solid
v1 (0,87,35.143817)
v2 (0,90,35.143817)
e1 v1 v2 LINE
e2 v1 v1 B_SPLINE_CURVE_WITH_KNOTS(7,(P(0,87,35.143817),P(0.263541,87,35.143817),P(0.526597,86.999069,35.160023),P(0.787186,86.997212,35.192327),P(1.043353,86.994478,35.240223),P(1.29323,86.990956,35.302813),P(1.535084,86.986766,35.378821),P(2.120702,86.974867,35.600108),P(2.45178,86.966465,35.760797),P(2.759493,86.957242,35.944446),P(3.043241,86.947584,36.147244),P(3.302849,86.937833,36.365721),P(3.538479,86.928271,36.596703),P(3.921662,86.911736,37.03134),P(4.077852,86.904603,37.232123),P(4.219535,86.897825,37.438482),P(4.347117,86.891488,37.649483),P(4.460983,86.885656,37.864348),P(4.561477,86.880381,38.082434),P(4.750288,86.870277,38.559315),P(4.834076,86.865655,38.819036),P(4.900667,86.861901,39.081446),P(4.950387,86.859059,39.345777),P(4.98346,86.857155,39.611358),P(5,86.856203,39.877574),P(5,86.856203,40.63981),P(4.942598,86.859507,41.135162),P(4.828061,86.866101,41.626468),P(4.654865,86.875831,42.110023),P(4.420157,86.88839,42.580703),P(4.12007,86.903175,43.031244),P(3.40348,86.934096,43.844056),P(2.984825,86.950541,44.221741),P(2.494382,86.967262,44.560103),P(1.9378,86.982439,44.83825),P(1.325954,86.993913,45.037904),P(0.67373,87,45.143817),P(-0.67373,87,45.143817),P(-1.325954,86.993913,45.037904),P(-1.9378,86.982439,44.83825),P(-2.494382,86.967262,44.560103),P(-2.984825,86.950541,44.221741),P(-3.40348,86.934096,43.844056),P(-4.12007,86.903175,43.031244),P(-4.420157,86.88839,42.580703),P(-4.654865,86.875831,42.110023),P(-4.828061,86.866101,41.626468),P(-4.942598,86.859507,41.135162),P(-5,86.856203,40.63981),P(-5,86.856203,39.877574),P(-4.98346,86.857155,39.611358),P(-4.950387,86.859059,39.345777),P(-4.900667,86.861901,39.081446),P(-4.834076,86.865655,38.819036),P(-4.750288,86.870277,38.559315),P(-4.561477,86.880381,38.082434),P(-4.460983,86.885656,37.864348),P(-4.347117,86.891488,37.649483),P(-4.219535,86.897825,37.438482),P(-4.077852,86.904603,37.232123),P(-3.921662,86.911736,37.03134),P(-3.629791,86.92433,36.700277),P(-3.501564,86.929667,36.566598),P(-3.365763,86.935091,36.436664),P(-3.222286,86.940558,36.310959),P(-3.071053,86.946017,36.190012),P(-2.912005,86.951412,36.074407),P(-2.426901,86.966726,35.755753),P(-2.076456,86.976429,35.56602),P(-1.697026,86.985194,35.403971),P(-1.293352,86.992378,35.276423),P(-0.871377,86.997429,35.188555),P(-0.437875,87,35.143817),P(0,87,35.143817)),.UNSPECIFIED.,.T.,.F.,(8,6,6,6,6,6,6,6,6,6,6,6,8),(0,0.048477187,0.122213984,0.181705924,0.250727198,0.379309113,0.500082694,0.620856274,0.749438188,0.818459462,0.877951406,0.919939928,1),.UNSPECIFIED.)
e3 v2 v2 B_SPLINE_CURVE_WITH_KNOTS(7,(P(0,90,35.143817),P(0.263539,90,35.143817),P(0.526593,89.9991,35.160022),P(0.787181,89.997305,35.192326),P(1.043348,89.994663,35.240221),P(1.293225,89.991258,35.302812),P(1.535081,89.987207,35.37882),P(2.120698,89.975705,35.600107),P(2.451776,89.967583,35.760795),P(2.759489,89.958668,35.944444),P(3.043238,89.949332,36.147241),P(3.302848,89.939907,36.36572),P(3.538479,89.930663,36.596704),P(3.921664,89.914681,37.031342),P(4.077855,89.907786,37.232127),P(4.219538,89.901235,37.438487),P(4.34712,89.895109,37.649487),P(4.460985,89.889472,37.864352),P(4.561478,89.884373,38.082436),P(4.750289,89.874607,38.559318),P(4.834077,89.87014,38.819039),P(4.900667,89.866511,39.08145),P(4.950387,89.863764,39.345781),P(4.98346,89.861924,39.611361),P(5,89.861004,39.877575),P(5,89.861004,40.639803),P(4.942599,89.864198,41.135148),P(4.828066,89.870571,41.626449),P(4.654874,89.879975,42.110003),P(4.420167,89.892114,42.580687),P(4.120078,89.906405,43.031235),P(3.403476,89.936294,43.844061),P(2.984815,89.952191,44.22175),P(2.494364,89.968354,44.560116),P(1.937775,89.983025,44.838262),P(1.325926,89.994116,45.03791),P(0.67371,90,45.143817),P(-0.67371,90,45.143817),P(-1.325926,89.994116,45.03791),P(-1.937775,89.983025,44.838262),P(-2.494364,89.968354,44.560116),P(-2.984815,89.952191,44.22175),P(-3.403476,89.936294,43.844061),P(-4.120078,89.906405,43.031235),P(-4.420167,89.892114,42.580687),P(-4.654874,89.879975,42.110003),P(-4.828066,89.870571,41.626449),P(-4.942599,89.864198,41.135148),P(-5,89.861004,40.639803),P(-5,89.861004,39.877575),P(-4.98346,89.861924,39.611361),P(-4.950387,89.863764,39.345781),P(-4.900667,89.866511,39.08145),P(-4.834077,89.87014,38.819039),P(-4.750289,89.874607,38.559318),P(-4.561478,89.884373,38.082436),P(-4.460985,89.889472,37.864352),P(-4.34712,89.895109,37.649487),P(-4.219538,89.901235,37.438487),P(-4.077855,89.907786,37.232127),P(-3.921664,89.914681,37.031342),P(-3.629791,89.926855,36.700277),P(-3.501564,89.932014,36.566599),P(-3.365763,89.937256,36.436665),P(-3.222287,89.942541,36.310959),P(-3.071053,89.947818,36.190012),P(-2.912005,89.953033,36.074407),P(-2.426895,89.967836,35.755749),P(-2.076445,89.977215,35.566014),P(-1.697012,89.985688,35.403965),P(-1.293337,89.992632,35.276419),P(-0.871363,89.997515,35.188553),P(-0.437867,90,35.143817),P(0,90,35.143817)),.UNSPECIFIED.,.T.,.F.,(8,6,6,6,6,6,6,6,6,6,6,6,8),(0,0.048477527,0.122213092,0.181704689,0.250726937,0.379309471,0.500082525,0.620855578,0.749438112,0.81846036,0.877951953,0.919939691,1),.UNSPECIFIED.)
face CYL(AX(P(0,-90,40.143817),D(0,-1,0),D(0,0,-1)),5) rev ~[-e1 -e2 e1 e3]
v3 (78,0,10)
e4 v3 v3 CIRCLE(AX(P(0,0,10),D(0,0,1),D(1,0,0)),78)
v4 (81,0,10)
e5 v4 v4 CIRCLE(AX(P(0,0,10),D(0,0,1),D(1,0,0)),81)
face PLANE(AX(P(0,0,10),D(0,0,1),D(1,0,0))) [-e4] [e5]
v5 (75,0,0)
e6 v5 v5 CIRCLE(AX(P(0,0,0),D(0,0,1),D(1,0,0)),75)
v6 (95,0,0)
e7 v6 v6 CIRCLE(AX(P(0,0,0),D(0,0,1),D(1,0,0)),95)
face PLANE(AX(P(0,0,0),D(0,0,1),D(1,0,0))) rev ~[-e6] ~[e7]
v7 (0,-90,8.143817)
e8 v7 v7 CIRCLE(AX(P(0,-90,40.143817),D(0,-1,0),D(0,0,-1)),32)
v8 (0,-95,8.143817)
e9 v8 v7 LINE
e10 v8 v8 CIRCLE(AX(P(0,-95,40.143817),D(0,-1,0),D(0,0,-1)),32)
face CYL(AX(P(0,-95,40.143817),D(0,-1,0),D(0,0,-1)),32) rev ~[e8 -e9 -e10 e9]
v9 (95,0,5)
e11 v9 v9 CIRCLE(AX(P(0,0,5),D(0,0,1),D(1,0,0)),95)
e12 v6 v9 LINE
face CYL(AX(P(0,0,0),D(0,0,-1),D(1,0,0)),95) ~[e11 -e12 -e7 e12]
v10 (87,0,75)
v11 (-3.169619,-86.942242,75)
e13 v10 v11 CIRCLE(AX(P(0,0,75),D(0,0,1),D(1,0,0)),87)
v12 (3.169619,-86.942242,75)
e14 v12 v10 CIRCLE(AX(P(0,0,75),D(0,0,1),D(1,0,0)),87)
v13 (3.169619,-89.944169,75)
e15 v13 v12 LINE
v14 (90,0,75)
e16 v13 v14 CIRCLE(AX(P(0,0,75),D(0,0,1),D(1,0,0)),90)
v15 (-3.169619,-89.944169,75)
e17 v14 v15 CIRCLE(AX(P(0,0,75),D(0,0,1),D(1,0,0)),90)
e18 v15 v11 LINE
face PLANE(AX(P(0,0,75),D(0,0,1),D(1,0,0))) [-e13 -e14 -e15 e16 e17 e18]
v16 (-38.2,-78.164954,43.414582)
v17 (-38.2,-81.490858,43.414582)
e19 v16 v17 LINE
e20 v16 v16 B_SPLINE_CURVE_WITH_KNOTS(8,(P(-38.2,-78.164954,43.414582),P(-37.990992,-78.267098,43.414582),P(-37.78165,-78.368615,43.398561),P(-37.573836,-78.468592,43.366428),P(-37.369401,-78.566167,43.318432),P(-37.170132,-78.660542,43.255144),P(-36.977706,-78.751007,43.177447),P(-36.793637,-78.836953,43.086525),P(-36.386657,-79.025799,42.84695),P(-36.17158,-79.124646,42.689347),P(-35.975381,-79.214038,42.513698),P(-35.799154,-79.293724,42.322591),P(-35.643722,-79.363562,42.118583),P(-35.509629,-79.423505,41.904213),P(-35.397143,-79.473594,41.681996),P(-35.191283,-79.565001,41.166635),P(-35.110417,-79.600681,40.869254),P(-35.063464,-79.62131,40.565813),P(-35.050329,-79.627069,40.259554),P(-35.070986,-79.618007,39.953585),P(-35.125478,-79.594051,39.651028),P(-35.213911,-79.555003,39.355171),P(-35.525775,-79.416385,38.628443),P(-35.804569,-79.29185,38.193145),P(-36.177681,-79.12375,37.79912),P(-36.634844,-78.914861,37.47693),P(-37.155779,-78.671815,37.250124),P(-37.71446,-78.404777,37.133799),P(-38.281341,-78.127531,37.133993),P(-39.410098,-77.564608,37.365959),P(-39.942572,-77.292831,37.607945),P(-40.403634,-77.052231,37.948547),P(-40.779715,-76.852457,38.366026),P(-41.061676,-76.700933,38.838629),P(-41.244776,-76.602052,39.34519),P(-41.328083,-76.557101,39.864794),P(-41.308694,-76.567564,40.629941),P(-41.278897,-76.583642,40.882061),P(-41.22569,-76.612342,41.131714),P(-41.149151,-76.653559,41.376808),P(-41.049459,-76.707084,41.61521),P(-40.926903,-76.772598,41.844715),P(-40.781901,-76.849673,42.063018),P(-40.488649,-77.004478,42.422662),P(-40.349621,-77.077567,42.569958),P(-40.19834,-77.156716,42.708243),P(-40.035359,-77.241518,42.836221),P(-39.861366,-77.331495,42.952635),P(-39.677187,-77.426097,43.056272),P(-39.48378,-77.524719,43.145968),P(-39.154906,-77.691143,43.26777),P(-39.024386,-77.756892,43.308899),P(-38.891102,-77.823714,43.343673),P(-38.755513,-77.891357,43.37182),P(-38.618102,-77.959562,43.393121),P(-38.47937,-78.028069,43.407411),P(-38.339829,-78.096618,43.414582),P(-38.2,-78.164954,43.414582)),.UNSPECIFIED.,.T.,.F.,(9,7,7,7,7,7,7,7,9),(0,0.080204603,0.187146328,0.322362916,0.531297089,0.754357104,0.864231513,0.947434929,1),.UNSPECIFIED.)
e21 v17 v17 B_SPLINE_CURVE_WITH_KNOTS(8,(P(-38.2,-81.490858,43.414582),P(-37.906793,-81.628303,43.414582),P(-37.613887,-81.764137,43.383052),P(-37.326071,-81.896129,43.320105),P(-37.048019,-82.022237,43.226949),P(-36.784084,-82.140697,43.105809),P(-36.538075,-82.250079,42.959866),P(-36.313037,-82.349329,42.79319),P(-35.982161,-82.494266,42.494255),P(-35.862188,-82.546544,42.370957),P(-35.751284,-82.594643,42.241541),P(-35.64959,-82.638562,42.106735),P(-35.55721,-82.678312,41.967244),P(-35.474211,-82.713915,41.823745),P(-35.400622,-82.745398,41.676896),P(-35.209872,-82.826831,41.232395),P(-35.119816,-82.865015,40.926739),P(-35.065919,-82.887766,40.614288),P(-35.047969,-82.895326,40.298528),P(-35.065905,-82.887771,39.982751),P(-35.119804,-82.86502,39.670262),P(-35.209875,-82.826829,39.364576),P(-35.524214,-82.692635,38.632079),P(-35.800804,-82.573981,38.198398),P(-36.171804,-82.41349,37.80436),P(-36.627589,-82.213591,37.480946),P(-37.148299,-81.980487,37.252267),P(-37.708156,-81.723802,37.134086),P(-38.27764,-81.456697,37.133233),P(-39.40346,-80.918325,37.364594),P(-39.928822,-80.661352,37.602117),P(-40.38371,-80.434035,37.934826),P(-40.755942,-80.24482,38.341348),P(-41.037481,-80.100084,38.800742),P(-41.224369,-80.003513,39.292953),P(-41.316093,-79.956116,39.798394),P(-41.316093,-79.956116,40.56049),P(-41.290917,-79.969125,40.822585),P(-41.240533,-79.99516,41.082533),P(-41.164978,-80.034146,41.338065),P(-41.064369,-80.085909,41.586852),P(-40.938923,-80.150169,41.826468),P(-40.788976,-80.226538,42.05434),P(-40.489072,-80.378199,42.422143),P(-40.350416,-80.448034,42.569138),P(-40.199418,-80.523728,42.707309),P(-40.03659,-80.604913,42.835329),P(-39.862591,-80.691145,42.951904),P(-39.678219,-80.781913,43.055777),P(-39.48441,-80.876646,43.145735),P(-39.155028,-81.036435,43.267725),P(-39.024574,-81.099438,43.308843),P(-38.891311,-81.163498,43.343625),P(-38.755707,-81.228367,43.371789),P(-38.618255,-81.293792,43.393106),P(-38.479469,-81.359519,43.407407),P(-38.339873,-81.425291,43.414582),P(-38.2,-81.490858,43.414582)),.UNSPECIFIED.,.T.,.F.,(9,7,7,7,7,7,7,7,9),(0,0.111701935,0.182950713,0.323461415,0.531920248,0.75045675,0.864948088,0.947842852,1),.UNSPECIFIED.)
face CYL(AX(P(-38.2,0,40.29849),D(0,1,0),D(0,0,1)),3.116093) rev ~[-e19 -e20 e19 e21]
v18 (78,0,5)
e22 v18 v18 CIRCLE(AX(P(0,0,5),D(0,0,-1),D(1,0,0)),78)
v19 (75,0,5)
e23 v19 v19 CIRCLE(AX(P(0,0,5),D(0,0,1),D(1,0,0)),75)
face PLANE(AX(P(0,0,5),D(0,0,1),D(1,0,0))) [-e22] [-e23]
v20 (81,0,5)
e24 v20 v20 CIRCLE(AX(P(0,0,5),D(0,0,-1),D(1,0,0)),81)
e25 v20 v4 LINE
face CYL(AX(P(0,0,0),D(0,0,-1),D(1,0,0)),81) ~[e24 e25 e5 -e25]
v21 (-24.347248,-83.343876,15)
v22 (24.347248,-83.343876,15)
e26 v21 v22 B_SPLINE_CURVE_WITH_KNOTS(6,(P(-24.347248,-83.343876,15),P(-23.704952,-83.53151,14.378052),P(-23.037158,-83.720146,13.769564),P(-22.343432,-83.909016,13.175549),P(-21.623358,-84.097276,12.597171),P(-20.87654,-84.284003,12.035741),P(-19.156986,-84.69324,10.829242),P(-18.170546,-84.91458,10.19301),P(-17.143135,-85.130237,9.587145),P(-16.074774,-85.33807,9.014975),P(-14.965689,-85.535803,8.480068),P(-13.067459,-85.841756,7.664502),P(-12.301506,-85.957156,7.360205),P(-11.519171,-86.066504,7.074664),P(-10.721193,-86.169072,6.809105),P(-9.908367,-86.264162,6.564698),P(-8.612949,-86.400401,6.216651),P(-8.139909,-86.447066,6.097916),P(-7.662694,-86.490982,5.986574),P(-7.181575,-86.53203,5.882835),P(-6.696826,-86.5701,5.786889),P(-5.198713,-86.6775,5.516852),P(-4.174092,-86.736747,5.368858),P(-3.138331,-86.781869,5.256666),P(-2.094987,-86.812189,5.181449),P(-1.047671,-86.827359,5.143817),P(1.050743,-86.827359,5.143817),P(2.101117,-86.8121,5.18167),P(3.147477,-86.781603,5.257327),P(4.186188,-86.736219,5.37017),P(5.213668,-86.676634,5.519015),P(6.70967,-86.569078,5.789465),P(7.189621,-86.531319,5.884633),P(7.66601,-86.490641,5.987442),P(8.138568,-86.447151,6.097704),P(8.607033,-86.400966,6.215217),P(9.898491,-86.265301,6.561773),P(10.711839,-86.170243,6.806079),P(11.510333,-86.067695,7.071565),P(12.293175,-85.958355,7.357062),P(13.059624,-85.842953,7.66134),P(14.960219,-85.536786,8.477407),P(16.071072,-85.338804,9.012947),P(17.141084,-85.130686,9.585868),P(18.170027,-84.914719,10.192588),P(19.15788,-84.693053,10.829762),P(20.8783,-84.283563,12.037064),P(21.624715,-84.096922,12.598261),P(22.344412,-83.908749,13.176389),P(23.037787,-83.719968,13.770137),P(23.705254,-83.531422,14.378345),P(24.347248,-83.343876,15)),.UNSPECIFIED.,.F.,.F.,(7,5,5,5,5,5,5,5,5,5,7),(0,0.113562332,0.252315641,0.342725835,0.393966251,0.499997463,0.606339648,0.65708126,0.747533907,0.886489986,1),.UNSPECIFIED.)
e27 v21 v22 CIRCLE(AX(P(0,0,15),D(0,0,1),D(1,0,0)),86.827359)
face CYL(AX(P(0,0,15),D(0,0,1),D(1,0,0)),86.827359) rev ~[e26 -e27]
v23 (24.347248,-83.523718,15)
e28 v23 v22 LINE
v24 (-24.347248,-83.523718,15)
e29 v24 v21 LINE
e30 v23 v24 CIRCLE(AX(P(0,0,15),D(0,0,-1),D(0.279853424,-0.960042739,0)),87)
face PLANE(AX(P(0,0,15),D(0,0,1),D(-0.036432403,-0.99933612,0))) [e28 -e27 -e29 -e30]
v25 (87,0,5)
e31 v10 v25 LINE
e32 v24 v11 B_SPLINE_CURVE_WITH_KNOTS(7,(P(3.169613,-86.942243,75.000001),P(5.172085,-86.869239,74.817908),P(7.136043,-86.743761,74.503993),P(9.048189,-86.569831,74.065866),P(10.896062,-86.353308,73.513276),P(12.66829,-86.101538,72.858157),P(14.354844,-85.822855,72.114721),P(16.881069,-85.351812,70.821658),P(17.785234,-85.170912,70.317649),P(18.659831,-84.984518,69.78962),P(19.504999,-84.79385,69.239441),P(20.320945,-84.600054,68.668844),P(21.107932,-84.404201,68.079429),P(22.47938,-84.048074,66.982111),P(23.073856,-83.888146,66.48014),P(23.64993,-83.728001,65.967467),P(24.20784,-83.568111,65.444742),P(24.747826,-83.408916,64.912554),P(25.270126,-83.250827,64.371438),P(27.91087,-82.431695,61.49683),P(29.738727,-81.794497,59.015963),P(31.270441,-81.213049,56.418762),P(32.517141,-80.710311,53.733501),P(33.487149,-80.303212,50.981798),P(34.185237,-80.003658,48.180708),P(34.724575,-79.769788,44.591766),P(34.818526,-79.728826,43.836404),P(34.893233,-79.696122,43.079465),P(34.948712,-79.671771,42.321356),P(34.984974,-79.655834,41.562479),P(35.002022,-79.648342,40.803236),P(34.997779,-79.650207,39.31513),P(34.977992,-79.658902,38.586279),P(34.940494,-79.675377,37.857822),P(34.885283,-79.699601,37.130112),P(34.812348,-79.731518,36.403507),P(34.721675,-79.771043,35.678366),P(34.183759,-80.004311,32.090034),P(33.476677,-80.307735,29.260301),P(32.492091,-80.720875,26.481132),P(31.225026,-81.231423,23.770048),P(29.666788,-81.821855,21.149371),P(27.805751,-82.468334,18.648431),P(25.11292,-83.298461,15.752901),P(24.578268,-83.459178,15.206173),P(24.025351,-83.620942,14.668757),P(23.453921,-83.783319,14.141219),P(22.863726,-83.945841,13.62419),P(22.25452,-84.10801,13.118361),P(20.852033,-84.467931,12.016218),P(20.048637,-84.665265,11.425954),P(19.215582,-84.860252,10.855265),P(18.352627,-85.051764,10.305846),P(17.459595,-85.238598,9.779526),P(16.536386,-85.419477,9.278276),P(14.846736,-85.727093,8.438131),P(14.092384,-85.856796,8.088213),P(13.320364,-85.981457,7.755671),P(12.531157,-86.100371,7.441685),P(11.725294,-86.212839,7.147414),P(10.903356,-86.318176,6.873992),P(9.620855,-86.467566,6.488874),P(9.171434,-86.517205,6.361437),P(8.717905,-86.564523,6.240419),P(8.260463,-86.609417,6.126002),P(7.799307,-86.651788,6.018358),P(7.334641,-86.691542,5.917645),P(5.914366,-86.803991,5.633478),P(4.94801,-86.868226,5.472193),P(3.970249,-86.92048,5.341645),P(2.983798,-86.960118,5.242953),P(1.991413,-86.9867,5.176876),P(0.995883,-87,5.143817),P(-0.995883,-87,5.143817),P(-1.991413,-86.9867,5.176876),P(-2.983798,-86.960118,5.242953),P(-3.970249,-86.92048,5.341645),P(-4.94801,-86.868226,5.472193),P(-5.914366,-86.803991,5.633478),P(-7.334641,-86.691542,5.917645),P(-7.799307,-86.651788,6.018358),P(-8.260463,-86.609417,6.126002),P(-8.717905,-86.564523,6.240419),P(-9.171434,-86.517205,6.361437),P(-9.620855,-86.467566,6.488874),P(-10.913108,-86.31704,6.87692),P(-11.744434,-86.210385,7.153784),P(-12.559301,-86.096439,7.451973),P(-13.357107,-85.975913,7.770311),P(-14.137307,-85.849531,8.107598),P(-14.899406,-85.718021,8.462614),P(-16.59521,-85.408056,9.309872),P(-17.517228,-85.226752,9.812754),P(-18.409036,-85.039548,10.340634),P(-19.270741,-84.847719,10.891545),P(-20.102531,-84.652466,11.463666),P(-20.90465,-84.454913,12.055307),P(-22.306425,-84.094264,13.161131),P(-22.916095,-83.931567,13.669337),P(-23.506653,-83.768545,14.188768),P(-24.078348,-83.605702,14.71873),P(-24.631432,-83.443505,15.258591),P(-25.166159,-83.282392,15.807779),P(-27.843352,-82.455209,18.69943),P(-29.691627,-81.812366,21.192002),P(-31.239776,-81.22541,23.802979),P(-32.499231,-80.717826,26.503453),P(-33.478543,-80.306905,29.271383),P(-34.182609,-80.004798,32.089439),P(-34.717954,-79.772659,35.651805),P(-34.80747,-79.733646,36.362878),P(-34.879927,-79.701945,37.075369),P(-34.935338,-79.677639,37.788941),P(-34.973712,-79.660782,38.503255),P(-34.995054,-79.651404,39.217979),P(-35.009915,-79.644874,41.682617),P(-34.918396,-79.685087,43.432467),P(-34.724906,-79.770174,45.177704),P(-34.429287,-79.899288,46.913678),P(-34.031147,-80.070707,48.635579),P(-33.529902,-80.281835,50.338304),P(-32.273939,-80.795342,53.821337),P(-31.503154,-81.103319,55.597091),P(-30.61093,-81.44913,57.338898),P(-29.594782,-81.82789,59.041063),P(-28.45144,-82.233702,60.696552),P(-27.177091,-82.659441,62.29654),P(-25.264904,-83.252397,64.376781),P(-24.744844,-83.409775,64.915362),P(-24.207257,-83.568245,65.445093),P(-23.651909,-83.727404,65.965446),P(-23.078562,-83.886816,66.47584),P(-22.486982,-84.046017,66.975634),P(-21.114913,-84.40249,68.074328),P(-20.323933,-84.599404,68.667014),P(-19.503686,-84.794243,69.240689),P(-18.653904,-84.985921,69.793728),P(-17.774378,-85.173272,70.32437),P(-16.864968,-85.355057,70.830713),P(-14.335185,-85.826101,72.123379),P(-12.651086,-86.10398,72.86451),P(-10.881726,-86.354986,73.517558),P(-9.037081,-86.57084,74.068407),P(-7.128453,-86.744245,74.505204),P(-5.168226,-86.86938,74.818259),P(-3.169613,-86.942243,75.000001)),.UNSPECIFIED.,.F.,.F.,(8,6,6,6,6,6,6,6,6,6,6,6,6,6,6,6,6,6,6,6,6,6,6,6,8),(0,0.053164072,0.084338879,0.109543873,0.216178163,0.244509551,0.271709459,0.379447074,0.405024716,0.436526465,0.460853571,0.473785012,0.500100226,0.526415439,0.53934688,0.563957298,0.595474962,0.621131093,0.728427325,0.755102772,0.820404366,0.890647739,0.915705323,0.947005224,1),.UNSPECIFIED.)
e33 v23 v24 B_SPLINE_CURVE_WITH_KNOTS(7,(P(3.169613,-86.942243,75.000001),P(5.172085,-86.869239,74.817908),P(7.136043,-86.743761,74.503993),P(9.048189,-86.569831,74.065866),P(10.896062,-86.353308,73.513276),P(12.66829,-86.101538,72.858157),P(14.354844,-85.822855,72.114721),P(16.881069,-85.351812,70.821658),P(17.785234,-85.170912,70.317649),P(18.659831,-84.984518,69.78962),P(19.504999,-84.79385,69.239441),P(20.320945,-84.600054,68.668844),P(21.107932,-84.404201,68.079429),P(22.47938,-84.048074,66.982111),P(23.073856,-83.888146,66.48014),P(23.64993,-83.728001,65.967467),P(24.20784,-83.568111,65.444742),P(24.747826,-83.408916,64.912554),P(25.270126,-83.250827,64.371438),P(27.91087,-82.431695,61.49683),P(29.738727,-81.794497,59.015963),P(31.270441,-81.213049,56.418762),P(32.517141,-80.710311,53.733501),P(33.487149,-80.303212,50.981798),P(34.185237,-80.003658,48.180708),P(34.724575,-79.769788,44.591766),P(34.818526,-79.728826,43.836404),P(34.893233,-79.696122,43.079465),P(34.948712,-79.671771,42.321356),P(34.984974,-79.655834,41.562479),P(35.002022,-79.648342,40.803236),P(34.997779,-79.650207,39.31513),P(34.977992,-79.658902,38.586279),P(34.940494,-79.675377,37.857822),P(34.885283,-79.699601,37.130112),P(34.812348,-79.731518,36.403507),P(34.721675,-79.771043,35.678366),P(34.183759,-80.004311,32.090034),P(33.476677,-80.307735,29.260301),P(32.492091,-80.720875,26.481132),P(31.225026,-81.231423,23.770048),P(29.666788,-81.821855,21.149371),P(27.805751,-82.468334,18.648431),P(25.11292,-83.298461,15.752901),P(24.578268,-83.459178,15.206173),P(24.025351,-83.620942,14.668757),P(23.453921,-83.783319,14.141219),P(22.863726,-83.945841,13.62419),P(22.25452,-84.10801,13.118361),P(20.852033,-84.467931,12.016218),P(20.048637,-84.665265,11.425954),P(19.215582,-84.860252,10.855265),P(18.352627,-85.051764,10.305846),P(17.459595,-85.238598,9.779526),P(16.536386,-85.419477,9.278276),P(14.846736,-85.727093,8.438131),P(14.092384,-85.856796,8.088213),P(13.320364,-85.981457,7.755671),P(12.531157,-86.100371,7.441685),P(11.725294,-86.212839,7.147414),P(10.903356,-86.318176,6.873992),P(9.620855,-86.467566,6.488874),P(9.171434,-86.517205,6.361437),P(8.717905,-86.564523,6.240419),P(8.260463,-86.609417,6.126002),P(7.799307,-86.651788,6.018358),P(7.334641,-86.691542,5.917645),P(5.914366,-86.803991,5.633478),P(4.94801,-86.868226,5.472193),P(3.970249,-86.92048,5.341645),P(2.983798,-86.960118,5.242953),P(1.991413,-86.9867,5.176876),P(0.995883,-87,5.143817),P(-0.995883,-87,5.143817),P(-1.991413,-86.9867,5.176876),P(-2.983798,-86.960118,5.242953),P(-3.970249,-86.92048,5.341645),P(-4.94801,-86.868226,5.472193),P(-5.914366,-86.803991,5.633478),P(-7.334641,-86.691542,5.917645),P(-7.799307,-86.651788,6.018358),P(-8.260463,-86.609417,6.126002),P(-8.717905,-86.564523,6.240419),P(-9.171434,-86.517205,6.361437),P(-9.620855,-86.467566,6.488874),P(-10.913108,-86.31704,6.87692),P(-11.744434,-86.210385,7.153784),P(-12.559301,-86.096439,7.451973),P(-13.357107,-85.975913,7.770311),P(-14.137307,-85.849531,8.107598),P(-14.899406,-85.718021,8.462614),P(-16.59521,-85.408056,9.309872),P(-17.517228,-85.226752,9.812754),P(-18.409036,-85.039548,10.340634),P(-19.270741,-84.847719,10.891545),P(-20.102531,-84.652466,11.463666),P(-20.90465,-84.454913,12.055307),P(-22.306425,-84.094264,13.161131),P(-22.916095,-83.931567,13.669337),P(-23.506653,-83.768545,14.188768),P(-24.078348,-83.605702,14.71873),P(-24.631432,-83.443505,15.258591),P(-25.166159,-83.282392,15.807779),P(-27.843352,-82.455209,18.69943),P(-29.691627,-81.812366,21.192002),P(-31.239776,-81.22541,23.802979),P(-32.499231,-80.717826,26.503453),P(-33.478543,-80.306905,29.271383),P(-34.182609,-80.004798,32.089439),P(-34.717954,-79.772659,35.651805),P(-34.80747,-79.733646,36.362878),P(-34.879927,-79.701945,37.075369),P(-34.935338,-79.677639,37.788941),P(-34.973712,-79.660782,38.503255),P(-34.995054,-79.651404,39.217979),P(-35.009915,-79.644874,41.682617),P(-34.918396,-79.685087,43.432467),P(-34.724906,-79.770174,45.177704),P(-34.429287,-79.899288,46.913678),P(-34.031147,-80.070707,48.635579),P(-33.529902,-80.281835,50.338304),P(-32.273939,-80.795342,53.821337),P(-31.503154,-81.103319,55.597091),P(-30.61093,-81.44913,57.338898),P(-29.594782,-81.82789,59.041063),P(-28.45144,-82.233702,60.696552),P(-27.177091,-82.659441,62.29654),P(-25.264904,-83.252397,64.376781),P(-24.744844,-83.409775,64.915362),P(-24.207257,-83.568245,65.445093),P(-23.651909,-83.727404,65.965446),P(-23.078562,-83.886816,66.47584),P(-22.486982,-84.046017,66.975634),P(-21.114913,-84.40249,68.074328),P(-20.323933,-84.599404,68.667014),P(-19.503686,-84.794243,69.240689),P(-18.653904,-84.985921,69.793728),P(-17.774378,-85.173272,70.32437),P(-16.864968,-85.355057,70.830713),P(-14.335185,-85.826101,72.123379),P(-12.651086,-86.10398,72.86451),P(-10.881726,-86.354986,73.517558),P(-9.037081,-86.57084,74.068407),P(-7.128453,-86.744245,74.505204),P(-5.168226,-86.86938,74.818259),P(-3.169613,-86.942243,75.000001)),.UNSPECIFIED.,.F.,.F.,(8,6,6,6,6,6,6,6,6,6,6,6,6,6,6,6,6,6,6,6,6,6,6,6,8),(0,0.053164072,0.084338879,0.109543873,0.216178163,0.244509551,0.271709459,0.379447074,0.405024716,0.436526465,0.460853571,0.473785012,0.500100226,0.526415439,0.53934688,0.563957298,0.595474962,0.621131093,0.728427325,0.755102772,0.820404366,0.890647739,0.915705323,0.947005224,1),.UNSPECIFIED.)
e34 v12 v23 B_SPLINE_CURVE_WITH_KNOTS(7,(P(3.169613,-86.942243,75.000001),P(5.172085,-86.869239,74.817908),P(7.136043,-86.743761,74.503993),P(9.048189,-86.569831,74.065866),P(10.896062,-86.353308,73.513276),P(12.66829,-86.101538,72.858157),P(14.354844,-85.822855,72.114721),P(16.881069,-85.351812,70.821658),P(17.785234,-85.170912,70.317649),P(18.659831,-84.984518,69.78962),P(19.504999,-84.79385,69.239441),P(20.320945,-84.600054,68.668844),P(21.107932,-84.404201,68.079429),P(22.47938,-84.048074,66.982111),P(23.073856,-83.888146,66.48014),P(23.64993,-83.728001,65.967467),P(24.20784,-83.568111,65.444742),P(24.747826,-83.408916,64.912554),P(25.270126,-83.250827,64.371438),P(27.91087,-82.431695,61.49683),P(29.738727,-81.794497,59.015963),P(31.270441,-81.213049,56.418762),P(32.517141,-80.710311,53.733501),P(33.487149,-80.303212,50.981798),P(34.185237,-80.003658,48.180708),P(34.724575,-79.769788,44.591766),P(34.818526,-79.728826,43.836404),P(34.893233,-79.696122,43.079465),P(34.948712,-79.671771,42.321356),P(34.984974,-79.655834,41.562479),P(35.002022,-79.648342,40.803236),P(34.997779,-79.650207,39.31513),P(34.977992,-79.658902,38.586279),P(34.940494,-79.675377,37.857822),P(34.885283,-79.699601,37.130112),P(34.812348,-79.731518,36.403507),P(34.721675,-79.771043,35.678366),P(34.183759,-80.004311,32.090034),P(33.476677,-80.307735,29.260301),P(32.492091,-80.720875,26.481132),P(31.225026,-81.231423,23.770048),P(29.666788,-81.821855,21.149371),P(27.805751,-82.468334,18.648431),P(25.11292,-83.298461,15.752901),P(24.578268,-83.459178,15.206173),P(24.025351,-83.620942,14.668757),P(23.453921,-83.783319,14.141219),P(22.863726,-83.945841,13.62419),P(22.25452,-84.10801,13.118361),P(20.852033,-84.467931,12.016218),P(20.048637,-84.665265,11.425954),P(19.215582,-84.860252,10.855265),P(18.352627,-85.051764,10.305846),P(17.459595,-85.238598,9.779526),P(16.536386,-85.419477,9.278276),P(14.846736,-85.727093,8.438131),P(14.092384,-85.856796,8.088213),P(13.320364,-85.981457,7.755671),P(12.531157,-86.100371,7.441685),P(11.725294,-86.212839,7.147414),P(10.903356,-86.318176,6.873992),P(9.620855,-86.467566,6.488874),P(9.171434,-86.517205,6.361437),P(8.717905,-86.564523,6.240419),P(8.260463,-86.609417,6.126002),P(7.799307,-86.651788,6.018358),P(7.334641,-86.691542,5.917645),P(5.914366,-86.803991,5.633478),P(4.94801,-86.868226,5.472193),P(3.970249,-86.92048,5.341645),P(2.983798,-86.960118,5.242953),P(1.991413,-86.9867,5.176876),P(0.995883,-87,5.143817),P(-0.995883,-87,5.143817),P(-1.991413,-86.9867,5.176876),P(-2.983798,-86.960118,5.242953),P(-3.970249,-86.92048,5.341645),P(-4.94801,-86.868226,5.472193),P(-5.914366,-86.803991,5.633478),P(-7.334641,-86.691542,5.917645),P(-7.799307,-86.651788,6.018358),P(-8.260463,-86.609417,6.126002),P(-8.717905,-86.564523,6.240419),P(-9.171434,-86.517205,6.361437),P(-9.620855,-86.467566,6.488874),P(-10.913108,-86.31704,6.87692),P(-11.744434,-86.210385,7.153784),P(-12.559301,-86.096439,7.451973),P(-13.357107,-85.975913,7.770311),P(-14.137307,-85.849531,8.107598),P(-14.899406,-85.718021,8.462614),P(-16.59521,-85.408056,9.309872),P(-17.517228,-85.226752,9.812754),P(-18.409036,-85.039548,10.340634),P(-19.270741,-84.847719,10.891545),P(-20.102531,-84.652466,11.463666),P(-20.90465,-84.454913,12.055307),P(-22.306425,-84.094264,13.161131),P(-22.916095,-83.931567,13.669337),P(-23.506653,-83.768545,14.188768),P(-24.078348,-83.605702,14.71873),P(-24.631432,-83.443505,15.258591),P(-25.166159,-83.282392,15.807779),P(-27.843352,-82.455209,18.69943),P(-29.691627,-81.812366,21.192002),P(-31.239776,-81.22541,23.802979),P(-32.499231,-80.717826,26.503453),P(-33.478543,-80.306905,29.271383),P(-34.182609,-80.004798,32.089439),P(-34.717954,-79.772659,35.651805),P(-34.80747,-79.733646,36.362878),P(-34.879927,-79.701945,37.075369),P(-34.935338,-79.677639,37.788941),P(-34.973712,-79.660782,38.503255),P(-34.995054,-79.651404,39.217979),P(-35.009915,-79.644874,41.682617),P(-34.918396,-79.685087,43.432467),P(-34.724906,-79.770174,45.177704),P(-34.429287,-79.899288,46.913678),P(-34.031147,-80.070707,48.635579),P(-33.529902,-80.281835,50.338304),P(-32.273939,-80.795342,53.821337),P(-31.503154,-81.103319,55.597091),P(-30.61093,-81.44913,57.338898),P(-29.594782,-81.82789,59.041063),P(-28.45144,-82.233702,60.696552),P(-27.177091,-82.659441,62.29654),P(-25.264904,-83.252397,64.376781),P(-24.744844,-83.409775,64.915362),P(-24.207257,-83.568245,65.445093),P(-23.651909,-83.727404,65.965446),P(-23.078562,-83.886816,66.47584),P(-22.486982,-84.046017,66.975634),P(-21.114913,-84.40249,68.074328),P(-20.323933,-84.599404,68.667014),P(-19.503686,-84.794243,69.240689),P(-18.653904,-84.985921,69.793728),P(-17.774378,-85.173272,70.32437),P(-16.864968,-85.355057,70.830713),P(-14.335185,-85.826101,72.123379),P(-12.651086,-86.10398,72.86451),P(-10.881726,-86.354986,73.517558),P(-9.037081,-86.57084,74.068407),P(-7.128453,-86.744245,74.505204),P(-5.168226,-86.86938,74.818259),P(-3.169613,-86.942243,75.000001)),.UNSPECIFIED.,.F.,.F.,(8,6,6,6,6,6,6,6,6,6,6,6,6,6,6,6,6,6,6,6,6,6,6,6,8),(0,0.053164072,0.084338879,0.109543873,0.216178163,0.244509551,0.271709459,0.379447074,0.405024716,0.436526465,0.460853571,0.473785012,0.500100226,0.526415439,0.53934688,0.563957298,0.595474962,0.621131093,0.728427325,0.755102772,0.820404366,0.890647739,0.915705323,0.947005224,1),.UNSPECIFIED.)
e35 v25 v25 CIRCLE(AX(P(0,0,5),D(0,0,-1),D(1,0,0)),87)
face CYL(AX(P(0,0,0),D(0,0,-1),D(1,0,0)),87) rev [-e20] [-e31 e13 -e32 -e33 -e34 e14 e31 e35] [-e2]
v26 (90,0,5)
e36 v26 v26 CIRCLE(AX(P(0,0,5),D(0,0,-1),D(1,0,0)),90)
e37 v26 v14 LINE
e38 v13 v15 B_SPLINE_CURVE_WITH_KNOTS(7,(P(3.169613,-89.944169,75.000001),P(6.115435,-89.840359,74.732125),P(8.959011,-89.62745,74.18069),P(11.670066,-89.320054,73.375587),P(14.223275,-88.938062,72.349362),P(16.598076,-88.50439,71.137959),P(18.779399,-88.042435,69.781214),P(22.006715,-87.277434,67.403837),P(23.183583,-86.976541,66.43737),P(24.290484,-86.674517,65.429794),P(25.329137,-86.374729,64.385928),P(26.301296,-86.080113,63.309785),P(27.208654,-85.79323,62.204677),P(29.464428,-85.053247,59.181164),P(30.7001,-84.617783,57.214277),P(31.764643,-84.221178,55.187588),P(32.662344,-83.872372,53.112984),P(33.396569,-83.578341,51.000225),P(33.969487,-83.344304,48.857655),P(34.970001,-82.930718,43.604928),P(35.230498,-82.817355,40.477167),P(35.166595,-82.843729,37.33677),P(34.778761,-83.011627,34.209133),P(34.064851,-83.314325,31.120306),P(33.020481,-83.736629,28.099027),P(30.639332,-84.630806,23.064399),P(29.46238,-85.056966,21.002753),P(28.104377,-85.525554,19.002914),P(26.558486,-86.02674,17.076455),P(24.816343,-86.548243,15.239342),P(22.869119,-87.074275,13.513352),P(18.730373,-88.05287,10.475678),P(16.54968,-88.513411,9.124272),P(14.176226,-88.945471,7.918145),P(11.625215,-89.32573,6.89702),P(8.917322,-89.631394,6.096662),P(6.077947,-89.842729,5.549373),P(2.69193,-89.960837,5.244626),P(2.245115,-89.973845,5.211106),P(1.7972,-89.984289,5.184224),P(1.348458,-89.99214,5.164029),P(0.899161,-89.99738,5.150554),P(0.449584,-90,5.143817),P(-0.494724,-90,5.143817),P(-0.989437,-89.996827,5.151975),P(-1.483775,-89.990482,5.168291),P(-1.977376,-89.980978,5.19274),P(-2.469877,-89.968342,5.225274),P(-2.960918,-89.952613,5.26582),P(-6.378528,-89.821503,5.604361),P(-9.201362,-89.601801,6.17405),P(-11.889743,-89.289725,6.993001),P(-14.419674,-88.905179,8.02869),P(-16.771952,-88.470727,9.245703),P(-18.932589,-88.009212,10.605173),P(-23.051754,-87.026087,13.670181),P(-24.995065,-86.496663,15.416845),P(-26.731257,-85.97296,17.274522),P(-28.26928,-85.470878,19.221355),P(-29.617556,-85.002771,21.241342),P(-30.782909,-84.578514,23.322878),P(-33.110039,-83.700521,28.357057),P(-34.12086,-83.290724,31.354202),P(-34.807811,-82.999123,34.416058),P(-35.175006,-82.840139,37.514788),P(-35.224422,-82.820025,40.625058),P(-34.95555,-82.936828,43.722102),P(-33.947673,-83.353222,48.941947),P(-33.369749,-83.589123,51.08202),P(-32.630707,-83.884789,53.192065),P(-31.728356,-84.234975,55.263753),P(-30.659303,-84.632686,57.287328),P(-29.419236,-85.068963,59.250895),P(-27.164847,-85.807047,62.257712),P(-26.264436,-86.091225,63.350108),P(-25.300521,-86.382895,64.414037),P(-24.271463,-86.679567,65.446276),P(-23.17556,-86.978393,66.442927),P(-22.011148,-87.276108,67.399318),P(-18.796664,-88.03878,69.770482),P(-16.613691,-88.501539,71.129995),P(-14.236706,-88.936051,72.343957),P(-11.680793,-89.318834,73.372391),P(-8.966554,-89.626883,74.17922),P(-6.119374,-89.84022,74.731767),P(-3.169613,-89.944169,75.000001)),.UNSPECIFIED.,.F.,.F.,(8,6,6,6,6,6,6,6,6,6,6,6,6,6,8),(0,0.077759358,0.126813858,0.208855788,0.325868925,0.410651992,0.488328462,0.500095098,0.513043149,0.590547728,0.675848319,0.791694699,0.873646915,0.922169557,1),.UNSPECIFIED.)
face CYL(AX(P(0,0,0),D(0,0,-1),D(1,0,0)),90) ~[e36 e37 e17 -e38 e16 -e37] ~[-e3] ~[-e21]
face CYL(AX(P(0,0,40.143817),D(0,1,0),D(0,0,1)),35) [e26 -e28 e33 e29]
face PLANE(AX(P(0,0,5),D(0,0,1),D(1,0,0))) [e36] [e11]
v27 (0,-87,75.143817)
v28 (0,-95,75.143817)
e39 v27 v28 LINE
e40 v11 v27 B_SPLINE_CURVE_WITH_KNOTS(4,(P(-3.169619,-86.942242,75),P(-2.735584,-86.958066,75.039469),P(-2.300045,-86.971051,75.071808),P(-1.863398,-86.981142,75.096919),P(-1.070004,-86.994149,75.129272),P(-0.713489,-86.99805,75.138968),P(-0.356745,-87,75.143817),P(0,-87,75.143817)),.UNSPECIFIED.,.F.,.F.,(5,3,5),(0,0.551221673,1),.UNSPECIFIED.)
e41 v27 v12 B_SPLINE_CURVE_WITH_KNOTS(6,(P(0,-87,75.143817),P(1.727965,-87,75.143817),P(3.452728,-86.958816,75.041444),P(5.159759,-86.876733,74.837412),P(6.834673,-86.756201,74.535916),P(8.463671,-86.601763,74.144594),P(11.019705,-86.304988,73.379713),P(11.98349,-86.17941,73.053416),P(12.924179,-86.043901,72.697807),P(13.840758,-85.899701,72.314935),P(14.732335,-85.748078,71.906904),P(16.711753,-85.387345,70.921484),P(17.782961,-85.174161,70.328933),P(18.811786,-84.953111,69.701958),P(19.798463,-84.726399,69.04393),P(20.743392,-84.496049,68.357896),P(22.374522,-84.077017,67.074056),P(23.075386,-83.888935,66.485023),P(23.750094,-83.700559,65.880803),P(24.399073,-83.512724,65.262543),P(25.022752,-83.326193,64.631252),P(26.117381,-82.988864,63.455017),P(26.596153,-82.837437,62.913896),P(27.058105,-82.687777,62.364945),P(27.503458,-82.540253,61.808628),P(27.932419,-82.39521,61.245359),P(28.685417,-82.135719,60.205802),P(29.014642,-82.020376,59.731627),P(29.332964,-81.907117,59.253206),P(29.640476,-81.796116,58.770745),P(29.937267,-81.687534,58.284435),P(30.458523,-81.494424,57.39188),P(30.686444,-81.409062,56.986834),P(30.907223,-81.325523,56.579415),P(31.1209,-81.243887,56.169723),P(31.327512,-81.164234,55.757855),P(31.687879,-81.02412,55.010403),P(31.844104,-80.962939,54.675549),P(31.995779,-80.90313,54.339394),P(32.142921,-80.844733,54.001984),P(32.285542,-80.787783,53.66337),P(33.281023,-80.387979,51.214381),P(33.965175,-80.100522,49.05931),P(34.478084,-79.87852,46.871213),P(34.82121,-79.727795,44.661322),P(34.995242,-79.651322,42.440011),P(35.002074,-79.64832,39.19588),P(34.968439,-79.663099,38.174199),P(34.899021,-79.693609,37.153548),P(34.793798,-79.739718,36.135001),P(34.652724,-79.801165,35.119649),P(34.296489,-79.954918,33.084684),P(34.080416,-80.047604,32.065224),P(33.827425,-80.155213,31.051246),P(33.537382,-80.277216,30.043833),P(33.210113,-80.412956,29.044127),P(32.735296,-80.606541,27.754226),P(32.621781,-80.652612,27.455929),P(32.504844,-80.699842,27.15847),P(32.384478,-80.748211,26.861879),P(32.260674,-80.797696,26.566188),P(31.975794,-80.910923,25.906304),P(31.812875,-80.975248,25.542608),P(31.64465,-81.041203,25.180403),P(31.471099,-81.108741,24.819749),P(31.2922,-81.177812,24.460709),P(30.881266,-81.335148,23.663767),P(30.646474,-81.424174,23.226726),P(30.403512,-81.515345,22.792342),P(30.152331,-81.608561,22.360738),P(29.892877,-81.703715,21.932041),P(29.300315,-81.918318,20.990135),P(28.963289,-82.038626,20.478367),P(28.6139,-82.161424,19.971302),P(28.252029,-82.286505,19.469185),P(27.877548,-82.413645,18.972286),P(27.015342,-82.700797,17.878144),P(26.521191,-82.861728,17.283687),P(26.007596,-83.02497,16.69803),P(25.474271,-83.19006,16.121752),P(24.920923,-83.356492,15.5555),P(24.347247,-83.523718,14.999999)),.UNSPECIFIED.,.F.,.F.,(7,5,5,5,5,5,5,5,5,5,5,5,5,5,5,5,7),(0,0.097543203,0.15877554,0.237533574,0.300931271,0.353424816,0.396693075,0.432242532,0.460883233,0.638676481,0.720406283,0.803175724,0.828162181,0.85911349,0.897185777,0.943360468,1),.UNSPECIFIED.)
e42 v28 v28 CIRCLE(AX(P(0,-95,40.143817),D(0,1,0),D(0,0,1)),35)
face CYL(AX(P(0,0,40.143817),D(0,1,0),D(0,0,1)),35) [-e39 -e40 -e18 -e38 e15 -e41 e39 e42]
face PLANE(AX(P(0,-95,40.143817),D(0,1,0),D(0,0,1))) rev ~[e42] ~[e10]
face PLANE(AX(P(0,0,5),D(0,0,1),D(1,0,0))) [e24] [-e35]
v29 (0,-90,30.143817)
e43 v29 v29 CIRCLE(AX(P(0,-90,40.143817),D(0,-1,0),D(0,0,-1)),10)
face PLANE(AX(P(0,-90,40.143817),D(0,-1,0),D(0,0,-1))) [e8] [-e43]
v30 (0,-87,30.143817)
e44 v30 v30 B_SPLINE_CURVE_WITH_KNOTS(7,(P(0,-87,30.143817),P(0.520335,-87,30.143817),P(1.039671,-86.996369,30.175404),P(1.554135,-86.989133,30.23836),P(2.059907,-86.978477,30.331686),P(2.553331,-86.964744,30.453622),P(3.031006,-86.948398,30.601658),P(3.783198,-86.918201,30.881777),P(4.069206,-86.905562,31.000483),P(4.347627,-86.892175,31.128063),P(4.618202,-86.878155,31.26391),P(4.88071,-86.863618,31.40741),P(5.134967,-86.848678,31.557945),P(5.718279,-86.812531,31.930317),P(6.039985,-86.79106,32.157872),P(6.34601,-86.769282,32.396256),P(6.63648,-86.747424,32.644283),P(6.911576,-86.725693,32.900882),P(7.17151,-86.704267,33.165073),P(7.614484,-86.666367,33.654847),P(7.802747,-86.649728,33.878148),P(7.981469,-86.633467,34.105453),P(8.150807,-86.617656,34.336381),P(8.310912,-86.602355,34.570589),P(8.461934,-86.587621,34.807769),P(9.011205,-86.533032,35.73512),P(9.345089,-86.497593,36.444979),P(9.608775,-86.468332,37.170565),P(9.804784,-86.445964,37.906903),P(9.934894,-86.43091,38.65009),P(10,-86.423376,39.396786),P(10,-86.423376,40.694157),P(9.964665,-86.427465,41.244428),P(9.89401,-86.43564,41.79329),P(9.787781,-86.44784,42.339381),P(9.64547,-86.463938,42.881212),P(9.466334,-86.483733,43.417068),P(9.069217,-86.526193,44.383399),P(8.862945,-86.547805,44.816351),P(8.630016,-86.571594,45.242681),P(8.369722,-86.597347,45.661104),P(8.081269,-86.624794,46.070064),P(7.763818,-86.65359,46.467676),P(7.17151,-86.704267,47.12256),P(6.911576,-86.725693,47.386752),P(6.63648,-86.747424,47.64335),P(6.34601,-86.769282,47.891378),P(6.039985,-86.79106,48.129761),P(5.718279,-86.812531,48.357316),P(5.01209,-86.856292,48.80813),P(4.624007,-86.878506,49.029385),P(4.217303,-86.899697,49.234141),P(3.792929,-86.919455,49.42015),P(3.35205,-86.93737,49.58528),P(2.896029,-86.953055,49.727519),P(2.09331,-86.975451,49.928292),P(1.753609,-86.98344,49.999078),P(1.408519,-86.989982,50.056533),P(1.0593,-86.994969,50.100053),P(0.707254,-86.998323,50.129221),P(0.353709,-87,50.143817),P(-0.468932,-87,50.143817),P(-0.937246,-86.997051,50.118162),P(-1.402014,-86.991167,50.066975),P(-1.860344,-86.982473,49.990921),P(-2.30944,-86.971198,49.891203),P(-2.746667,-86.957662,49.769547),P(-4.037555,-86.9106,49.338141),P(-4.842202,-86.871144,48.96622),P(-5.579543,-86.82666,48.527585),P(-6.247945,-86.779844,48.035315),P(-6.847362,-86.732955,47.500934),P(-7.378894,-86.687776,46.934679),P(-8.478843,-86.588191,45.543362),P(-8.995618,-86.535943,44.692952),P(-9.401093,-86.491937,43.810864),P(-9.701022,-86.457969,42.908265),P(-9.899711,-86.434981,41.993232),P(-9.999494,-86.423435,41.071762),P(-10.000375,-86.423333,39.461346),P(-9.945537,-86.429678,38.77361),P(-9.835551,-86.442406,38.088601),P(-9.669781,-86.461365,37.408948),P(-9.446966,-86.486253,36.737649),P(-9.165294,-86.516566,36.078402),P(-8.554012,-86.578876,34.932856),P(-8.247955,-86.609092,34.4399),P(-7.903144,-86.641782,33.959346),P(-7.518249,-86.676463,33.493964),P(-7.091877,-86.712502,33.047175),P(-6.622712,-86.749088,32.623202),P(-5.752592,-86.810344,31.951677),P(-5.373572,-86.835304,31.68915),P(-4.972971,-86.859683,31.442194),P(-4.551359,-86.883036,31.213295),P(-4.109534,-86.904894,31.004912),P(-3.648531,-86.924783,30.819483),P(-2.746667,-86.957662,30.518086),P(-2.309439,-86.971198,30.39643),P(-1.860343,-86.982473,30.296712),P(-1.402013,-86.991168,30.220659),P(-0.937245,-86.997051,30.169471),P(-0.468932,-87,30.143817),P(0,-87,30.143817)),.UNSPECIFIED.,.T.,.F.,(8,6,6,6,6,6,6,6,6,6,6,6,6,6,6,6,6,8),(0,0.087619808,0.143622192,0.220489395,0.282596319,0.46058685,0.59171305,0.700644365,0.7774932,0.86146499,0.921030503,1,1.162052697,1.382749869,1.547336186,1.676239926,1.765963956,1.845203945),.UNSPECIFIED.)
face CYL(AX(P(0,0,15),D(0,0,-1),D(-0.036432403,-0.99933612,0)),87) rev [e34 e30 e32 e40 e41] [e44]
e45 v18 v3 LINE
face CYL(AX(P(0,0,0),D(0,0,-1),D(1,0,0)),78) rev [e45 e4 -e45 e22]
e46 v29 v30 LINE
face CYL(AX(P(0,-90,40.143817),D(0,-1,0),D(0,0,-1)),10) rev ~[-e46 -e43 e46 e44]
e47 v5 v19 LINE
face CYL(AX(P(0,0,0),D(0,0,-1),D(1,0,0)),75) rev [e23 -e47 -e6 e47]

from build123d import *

# Parameters (mm, degrees)
SKETCH2_R           = 95
SKETCH2_R_2         = 75
BOSS_EXTRUDE1_DEPTH = 5
SKETCH3_R           = 90
SKETCH3_R_2         = 87
BOSS_EXTRUDE2_DEPTH = 75
SKETCH4_R           = 81
SKETCH4_R_2         = 78
BOSS_EXTRUDE4_DEPTH = 10
SKETCH6_R           = 35
BOSS_EXTRUDE5_DEPTH = 95
SKETCH7_R           = 75
CUT_EXTRUDE1_DEPTH  = 95
SKETCH8_R           = 87
CUT_EXTRUDE3_DEPTH  = 95
SKETCH9_R           = 86.82735855
CUT_EXTRUDE4_DEPTH  = 10
SKETCH10_R          = 81
SKETCH10_R_2        = 78
BOSS_EXTRUDE6_DEPTH = 10
SKETCH11_R          = 32
CUT_EXTRUDE5_DEPTH  = 5
SKETCH12_R          = 10
CUT_EXTRUDE6_DEPTH  = 5
SKETCH13_R          = 5
CUT_EXTRUDE7_DEPTH  = 185
SKETCH14_R          = 3.11609281
CUT_EXTRUDE9_DEPTH  = 185


with BuildPart() as part:
    # Sketch2 → Boss-Extrude1 (new body)
    with BuildSketch(Plane.XY):
        Circle(SKETCH2_R)
        Circle(SKETCH2_R_2, mode=Mode.SUBTRACT)
    extrude(amount=BOSS_EXTRUDE1_DEPTH)

    # Sketch3 → Boss-Extrude2 (add)
    with BuildSketch(Plane.XY):
        Circle(SKETCH3_R)
        Circle(SKETCH3_R_2, mode=Mode.SUBTRACT)
    extrude(amount=BOSS_EXTRUDE2_DEPTH)

    # Sketch4 → Boss-Extrude4 (add)
    with BuildSketch(Plane.XY):
        Circle(SKETCH4_R)
        Circle(SKETCH4_R_2, mode=Mode.SUBTRACT)
    extrude(amount=BOSS_EXTRUDE4_DEPTH)

    # Sketch6 → Boss-Extrude5 (add)
    with BuildSketch(Plane(origin=(0, 0, 0), x_dir=(1, 0, 0), z_dir=(0, 1, 0))):
        with Locations(Location((0, -40.143816704, 0), (0, 0, 270))):
            Circle(SKETCH6_R)
    extrude(amount=-BOSS_EXTRUDE5_DEPTH)

    # Sketch7 → Cut-Extrude1 (cut)
    with BuildSketch(Plane.XY):
        Circle(SKETCH7_R)
    extrude(amount=CUT_EXTRUDE1_DEPTH, mode=Mode.SUBTRACT)

    # Sketch8 → Cut-Extrude3 (cut)
    with BuildSketch(Plane.XY.offset(15)):
        with Locations(Location((0, 0, 0), (0, 0, 267.912115018))):
            Circle(SKETCH8_R)
    extrude(amount=CUT_EXTRUDE3_DEPTH, mode=Mode.SUBTRACT)

    # Sketch9 → Cut-Extrude4 (cut)
    with BuildSketch(Plane.XY.offset(15)):
        Circle(SKETCH9_R)
    extrude(amount=-CUT_EXTRUDE4_DEPTH, mode=Mode.SUBTRACT)

    # Sketch10 → Boss-Extrude6 (add)
    with BuildSketch(Plane.XY):
        Circle(SKETCH10_R)
        Circle(SKETCH10_R_2, mode=Mode.SUBTRACT)
    extrude(amount=BOSS_EXTRUDE6_DEPTH)

    # Sketch11 → Cut-Extrude5 (cut)
    with BuildSketch(Plane.XZ.offset(95)):
        with Locations(Location((0, 40.143816704, 0), (0, 0, 270))):
            Circle(SKETCH11_R)
    extrude(amount=-CUT_EXTRUDE5_DEPTH, mode=Mode.SUBTRACT)

    # Sketch12 → Cut-Extrude6 (cut)
    with BuildSketch(Plane.XZ.offset(90)):
        with Locations(Location((0, 40.143816704, 0), (0, 0, 270))):
            Circle(SKETCH12_R)
    extrude(amount=-CUT_EXTRUDE6_DEPTH, mode=Mode.SUBTRACT)

    # Sketch13 → Cut-Extrude7 (cut)
    with BuildSketch(Plane.XZ.offset(90)):
        with Locations(Location((0, 40.143816704, 0), (0, 0, 270))):
            Circle(SKETCH13_R)
    extrude(amount=-CUT_EXTRUDE7_DEPTH, mode=Mode.SUBTRACT)

    # Sketch14 → Cut-Extrude9 (cut)
    with BuildSketch(Plane(origin=(0, 0, 0), x_dir=(1, 0, 0), z_dir=(0, 1, 0))):
        with Locations(Location((-38.2, -40.29848956, 0), (0, 0, 270))):
            Circle(SKETCH14_R)
    extrude(amount=-CUT_EXTRUDE9_DEPTH, mode=Mode.SUBTRACT)


solid = part.part
